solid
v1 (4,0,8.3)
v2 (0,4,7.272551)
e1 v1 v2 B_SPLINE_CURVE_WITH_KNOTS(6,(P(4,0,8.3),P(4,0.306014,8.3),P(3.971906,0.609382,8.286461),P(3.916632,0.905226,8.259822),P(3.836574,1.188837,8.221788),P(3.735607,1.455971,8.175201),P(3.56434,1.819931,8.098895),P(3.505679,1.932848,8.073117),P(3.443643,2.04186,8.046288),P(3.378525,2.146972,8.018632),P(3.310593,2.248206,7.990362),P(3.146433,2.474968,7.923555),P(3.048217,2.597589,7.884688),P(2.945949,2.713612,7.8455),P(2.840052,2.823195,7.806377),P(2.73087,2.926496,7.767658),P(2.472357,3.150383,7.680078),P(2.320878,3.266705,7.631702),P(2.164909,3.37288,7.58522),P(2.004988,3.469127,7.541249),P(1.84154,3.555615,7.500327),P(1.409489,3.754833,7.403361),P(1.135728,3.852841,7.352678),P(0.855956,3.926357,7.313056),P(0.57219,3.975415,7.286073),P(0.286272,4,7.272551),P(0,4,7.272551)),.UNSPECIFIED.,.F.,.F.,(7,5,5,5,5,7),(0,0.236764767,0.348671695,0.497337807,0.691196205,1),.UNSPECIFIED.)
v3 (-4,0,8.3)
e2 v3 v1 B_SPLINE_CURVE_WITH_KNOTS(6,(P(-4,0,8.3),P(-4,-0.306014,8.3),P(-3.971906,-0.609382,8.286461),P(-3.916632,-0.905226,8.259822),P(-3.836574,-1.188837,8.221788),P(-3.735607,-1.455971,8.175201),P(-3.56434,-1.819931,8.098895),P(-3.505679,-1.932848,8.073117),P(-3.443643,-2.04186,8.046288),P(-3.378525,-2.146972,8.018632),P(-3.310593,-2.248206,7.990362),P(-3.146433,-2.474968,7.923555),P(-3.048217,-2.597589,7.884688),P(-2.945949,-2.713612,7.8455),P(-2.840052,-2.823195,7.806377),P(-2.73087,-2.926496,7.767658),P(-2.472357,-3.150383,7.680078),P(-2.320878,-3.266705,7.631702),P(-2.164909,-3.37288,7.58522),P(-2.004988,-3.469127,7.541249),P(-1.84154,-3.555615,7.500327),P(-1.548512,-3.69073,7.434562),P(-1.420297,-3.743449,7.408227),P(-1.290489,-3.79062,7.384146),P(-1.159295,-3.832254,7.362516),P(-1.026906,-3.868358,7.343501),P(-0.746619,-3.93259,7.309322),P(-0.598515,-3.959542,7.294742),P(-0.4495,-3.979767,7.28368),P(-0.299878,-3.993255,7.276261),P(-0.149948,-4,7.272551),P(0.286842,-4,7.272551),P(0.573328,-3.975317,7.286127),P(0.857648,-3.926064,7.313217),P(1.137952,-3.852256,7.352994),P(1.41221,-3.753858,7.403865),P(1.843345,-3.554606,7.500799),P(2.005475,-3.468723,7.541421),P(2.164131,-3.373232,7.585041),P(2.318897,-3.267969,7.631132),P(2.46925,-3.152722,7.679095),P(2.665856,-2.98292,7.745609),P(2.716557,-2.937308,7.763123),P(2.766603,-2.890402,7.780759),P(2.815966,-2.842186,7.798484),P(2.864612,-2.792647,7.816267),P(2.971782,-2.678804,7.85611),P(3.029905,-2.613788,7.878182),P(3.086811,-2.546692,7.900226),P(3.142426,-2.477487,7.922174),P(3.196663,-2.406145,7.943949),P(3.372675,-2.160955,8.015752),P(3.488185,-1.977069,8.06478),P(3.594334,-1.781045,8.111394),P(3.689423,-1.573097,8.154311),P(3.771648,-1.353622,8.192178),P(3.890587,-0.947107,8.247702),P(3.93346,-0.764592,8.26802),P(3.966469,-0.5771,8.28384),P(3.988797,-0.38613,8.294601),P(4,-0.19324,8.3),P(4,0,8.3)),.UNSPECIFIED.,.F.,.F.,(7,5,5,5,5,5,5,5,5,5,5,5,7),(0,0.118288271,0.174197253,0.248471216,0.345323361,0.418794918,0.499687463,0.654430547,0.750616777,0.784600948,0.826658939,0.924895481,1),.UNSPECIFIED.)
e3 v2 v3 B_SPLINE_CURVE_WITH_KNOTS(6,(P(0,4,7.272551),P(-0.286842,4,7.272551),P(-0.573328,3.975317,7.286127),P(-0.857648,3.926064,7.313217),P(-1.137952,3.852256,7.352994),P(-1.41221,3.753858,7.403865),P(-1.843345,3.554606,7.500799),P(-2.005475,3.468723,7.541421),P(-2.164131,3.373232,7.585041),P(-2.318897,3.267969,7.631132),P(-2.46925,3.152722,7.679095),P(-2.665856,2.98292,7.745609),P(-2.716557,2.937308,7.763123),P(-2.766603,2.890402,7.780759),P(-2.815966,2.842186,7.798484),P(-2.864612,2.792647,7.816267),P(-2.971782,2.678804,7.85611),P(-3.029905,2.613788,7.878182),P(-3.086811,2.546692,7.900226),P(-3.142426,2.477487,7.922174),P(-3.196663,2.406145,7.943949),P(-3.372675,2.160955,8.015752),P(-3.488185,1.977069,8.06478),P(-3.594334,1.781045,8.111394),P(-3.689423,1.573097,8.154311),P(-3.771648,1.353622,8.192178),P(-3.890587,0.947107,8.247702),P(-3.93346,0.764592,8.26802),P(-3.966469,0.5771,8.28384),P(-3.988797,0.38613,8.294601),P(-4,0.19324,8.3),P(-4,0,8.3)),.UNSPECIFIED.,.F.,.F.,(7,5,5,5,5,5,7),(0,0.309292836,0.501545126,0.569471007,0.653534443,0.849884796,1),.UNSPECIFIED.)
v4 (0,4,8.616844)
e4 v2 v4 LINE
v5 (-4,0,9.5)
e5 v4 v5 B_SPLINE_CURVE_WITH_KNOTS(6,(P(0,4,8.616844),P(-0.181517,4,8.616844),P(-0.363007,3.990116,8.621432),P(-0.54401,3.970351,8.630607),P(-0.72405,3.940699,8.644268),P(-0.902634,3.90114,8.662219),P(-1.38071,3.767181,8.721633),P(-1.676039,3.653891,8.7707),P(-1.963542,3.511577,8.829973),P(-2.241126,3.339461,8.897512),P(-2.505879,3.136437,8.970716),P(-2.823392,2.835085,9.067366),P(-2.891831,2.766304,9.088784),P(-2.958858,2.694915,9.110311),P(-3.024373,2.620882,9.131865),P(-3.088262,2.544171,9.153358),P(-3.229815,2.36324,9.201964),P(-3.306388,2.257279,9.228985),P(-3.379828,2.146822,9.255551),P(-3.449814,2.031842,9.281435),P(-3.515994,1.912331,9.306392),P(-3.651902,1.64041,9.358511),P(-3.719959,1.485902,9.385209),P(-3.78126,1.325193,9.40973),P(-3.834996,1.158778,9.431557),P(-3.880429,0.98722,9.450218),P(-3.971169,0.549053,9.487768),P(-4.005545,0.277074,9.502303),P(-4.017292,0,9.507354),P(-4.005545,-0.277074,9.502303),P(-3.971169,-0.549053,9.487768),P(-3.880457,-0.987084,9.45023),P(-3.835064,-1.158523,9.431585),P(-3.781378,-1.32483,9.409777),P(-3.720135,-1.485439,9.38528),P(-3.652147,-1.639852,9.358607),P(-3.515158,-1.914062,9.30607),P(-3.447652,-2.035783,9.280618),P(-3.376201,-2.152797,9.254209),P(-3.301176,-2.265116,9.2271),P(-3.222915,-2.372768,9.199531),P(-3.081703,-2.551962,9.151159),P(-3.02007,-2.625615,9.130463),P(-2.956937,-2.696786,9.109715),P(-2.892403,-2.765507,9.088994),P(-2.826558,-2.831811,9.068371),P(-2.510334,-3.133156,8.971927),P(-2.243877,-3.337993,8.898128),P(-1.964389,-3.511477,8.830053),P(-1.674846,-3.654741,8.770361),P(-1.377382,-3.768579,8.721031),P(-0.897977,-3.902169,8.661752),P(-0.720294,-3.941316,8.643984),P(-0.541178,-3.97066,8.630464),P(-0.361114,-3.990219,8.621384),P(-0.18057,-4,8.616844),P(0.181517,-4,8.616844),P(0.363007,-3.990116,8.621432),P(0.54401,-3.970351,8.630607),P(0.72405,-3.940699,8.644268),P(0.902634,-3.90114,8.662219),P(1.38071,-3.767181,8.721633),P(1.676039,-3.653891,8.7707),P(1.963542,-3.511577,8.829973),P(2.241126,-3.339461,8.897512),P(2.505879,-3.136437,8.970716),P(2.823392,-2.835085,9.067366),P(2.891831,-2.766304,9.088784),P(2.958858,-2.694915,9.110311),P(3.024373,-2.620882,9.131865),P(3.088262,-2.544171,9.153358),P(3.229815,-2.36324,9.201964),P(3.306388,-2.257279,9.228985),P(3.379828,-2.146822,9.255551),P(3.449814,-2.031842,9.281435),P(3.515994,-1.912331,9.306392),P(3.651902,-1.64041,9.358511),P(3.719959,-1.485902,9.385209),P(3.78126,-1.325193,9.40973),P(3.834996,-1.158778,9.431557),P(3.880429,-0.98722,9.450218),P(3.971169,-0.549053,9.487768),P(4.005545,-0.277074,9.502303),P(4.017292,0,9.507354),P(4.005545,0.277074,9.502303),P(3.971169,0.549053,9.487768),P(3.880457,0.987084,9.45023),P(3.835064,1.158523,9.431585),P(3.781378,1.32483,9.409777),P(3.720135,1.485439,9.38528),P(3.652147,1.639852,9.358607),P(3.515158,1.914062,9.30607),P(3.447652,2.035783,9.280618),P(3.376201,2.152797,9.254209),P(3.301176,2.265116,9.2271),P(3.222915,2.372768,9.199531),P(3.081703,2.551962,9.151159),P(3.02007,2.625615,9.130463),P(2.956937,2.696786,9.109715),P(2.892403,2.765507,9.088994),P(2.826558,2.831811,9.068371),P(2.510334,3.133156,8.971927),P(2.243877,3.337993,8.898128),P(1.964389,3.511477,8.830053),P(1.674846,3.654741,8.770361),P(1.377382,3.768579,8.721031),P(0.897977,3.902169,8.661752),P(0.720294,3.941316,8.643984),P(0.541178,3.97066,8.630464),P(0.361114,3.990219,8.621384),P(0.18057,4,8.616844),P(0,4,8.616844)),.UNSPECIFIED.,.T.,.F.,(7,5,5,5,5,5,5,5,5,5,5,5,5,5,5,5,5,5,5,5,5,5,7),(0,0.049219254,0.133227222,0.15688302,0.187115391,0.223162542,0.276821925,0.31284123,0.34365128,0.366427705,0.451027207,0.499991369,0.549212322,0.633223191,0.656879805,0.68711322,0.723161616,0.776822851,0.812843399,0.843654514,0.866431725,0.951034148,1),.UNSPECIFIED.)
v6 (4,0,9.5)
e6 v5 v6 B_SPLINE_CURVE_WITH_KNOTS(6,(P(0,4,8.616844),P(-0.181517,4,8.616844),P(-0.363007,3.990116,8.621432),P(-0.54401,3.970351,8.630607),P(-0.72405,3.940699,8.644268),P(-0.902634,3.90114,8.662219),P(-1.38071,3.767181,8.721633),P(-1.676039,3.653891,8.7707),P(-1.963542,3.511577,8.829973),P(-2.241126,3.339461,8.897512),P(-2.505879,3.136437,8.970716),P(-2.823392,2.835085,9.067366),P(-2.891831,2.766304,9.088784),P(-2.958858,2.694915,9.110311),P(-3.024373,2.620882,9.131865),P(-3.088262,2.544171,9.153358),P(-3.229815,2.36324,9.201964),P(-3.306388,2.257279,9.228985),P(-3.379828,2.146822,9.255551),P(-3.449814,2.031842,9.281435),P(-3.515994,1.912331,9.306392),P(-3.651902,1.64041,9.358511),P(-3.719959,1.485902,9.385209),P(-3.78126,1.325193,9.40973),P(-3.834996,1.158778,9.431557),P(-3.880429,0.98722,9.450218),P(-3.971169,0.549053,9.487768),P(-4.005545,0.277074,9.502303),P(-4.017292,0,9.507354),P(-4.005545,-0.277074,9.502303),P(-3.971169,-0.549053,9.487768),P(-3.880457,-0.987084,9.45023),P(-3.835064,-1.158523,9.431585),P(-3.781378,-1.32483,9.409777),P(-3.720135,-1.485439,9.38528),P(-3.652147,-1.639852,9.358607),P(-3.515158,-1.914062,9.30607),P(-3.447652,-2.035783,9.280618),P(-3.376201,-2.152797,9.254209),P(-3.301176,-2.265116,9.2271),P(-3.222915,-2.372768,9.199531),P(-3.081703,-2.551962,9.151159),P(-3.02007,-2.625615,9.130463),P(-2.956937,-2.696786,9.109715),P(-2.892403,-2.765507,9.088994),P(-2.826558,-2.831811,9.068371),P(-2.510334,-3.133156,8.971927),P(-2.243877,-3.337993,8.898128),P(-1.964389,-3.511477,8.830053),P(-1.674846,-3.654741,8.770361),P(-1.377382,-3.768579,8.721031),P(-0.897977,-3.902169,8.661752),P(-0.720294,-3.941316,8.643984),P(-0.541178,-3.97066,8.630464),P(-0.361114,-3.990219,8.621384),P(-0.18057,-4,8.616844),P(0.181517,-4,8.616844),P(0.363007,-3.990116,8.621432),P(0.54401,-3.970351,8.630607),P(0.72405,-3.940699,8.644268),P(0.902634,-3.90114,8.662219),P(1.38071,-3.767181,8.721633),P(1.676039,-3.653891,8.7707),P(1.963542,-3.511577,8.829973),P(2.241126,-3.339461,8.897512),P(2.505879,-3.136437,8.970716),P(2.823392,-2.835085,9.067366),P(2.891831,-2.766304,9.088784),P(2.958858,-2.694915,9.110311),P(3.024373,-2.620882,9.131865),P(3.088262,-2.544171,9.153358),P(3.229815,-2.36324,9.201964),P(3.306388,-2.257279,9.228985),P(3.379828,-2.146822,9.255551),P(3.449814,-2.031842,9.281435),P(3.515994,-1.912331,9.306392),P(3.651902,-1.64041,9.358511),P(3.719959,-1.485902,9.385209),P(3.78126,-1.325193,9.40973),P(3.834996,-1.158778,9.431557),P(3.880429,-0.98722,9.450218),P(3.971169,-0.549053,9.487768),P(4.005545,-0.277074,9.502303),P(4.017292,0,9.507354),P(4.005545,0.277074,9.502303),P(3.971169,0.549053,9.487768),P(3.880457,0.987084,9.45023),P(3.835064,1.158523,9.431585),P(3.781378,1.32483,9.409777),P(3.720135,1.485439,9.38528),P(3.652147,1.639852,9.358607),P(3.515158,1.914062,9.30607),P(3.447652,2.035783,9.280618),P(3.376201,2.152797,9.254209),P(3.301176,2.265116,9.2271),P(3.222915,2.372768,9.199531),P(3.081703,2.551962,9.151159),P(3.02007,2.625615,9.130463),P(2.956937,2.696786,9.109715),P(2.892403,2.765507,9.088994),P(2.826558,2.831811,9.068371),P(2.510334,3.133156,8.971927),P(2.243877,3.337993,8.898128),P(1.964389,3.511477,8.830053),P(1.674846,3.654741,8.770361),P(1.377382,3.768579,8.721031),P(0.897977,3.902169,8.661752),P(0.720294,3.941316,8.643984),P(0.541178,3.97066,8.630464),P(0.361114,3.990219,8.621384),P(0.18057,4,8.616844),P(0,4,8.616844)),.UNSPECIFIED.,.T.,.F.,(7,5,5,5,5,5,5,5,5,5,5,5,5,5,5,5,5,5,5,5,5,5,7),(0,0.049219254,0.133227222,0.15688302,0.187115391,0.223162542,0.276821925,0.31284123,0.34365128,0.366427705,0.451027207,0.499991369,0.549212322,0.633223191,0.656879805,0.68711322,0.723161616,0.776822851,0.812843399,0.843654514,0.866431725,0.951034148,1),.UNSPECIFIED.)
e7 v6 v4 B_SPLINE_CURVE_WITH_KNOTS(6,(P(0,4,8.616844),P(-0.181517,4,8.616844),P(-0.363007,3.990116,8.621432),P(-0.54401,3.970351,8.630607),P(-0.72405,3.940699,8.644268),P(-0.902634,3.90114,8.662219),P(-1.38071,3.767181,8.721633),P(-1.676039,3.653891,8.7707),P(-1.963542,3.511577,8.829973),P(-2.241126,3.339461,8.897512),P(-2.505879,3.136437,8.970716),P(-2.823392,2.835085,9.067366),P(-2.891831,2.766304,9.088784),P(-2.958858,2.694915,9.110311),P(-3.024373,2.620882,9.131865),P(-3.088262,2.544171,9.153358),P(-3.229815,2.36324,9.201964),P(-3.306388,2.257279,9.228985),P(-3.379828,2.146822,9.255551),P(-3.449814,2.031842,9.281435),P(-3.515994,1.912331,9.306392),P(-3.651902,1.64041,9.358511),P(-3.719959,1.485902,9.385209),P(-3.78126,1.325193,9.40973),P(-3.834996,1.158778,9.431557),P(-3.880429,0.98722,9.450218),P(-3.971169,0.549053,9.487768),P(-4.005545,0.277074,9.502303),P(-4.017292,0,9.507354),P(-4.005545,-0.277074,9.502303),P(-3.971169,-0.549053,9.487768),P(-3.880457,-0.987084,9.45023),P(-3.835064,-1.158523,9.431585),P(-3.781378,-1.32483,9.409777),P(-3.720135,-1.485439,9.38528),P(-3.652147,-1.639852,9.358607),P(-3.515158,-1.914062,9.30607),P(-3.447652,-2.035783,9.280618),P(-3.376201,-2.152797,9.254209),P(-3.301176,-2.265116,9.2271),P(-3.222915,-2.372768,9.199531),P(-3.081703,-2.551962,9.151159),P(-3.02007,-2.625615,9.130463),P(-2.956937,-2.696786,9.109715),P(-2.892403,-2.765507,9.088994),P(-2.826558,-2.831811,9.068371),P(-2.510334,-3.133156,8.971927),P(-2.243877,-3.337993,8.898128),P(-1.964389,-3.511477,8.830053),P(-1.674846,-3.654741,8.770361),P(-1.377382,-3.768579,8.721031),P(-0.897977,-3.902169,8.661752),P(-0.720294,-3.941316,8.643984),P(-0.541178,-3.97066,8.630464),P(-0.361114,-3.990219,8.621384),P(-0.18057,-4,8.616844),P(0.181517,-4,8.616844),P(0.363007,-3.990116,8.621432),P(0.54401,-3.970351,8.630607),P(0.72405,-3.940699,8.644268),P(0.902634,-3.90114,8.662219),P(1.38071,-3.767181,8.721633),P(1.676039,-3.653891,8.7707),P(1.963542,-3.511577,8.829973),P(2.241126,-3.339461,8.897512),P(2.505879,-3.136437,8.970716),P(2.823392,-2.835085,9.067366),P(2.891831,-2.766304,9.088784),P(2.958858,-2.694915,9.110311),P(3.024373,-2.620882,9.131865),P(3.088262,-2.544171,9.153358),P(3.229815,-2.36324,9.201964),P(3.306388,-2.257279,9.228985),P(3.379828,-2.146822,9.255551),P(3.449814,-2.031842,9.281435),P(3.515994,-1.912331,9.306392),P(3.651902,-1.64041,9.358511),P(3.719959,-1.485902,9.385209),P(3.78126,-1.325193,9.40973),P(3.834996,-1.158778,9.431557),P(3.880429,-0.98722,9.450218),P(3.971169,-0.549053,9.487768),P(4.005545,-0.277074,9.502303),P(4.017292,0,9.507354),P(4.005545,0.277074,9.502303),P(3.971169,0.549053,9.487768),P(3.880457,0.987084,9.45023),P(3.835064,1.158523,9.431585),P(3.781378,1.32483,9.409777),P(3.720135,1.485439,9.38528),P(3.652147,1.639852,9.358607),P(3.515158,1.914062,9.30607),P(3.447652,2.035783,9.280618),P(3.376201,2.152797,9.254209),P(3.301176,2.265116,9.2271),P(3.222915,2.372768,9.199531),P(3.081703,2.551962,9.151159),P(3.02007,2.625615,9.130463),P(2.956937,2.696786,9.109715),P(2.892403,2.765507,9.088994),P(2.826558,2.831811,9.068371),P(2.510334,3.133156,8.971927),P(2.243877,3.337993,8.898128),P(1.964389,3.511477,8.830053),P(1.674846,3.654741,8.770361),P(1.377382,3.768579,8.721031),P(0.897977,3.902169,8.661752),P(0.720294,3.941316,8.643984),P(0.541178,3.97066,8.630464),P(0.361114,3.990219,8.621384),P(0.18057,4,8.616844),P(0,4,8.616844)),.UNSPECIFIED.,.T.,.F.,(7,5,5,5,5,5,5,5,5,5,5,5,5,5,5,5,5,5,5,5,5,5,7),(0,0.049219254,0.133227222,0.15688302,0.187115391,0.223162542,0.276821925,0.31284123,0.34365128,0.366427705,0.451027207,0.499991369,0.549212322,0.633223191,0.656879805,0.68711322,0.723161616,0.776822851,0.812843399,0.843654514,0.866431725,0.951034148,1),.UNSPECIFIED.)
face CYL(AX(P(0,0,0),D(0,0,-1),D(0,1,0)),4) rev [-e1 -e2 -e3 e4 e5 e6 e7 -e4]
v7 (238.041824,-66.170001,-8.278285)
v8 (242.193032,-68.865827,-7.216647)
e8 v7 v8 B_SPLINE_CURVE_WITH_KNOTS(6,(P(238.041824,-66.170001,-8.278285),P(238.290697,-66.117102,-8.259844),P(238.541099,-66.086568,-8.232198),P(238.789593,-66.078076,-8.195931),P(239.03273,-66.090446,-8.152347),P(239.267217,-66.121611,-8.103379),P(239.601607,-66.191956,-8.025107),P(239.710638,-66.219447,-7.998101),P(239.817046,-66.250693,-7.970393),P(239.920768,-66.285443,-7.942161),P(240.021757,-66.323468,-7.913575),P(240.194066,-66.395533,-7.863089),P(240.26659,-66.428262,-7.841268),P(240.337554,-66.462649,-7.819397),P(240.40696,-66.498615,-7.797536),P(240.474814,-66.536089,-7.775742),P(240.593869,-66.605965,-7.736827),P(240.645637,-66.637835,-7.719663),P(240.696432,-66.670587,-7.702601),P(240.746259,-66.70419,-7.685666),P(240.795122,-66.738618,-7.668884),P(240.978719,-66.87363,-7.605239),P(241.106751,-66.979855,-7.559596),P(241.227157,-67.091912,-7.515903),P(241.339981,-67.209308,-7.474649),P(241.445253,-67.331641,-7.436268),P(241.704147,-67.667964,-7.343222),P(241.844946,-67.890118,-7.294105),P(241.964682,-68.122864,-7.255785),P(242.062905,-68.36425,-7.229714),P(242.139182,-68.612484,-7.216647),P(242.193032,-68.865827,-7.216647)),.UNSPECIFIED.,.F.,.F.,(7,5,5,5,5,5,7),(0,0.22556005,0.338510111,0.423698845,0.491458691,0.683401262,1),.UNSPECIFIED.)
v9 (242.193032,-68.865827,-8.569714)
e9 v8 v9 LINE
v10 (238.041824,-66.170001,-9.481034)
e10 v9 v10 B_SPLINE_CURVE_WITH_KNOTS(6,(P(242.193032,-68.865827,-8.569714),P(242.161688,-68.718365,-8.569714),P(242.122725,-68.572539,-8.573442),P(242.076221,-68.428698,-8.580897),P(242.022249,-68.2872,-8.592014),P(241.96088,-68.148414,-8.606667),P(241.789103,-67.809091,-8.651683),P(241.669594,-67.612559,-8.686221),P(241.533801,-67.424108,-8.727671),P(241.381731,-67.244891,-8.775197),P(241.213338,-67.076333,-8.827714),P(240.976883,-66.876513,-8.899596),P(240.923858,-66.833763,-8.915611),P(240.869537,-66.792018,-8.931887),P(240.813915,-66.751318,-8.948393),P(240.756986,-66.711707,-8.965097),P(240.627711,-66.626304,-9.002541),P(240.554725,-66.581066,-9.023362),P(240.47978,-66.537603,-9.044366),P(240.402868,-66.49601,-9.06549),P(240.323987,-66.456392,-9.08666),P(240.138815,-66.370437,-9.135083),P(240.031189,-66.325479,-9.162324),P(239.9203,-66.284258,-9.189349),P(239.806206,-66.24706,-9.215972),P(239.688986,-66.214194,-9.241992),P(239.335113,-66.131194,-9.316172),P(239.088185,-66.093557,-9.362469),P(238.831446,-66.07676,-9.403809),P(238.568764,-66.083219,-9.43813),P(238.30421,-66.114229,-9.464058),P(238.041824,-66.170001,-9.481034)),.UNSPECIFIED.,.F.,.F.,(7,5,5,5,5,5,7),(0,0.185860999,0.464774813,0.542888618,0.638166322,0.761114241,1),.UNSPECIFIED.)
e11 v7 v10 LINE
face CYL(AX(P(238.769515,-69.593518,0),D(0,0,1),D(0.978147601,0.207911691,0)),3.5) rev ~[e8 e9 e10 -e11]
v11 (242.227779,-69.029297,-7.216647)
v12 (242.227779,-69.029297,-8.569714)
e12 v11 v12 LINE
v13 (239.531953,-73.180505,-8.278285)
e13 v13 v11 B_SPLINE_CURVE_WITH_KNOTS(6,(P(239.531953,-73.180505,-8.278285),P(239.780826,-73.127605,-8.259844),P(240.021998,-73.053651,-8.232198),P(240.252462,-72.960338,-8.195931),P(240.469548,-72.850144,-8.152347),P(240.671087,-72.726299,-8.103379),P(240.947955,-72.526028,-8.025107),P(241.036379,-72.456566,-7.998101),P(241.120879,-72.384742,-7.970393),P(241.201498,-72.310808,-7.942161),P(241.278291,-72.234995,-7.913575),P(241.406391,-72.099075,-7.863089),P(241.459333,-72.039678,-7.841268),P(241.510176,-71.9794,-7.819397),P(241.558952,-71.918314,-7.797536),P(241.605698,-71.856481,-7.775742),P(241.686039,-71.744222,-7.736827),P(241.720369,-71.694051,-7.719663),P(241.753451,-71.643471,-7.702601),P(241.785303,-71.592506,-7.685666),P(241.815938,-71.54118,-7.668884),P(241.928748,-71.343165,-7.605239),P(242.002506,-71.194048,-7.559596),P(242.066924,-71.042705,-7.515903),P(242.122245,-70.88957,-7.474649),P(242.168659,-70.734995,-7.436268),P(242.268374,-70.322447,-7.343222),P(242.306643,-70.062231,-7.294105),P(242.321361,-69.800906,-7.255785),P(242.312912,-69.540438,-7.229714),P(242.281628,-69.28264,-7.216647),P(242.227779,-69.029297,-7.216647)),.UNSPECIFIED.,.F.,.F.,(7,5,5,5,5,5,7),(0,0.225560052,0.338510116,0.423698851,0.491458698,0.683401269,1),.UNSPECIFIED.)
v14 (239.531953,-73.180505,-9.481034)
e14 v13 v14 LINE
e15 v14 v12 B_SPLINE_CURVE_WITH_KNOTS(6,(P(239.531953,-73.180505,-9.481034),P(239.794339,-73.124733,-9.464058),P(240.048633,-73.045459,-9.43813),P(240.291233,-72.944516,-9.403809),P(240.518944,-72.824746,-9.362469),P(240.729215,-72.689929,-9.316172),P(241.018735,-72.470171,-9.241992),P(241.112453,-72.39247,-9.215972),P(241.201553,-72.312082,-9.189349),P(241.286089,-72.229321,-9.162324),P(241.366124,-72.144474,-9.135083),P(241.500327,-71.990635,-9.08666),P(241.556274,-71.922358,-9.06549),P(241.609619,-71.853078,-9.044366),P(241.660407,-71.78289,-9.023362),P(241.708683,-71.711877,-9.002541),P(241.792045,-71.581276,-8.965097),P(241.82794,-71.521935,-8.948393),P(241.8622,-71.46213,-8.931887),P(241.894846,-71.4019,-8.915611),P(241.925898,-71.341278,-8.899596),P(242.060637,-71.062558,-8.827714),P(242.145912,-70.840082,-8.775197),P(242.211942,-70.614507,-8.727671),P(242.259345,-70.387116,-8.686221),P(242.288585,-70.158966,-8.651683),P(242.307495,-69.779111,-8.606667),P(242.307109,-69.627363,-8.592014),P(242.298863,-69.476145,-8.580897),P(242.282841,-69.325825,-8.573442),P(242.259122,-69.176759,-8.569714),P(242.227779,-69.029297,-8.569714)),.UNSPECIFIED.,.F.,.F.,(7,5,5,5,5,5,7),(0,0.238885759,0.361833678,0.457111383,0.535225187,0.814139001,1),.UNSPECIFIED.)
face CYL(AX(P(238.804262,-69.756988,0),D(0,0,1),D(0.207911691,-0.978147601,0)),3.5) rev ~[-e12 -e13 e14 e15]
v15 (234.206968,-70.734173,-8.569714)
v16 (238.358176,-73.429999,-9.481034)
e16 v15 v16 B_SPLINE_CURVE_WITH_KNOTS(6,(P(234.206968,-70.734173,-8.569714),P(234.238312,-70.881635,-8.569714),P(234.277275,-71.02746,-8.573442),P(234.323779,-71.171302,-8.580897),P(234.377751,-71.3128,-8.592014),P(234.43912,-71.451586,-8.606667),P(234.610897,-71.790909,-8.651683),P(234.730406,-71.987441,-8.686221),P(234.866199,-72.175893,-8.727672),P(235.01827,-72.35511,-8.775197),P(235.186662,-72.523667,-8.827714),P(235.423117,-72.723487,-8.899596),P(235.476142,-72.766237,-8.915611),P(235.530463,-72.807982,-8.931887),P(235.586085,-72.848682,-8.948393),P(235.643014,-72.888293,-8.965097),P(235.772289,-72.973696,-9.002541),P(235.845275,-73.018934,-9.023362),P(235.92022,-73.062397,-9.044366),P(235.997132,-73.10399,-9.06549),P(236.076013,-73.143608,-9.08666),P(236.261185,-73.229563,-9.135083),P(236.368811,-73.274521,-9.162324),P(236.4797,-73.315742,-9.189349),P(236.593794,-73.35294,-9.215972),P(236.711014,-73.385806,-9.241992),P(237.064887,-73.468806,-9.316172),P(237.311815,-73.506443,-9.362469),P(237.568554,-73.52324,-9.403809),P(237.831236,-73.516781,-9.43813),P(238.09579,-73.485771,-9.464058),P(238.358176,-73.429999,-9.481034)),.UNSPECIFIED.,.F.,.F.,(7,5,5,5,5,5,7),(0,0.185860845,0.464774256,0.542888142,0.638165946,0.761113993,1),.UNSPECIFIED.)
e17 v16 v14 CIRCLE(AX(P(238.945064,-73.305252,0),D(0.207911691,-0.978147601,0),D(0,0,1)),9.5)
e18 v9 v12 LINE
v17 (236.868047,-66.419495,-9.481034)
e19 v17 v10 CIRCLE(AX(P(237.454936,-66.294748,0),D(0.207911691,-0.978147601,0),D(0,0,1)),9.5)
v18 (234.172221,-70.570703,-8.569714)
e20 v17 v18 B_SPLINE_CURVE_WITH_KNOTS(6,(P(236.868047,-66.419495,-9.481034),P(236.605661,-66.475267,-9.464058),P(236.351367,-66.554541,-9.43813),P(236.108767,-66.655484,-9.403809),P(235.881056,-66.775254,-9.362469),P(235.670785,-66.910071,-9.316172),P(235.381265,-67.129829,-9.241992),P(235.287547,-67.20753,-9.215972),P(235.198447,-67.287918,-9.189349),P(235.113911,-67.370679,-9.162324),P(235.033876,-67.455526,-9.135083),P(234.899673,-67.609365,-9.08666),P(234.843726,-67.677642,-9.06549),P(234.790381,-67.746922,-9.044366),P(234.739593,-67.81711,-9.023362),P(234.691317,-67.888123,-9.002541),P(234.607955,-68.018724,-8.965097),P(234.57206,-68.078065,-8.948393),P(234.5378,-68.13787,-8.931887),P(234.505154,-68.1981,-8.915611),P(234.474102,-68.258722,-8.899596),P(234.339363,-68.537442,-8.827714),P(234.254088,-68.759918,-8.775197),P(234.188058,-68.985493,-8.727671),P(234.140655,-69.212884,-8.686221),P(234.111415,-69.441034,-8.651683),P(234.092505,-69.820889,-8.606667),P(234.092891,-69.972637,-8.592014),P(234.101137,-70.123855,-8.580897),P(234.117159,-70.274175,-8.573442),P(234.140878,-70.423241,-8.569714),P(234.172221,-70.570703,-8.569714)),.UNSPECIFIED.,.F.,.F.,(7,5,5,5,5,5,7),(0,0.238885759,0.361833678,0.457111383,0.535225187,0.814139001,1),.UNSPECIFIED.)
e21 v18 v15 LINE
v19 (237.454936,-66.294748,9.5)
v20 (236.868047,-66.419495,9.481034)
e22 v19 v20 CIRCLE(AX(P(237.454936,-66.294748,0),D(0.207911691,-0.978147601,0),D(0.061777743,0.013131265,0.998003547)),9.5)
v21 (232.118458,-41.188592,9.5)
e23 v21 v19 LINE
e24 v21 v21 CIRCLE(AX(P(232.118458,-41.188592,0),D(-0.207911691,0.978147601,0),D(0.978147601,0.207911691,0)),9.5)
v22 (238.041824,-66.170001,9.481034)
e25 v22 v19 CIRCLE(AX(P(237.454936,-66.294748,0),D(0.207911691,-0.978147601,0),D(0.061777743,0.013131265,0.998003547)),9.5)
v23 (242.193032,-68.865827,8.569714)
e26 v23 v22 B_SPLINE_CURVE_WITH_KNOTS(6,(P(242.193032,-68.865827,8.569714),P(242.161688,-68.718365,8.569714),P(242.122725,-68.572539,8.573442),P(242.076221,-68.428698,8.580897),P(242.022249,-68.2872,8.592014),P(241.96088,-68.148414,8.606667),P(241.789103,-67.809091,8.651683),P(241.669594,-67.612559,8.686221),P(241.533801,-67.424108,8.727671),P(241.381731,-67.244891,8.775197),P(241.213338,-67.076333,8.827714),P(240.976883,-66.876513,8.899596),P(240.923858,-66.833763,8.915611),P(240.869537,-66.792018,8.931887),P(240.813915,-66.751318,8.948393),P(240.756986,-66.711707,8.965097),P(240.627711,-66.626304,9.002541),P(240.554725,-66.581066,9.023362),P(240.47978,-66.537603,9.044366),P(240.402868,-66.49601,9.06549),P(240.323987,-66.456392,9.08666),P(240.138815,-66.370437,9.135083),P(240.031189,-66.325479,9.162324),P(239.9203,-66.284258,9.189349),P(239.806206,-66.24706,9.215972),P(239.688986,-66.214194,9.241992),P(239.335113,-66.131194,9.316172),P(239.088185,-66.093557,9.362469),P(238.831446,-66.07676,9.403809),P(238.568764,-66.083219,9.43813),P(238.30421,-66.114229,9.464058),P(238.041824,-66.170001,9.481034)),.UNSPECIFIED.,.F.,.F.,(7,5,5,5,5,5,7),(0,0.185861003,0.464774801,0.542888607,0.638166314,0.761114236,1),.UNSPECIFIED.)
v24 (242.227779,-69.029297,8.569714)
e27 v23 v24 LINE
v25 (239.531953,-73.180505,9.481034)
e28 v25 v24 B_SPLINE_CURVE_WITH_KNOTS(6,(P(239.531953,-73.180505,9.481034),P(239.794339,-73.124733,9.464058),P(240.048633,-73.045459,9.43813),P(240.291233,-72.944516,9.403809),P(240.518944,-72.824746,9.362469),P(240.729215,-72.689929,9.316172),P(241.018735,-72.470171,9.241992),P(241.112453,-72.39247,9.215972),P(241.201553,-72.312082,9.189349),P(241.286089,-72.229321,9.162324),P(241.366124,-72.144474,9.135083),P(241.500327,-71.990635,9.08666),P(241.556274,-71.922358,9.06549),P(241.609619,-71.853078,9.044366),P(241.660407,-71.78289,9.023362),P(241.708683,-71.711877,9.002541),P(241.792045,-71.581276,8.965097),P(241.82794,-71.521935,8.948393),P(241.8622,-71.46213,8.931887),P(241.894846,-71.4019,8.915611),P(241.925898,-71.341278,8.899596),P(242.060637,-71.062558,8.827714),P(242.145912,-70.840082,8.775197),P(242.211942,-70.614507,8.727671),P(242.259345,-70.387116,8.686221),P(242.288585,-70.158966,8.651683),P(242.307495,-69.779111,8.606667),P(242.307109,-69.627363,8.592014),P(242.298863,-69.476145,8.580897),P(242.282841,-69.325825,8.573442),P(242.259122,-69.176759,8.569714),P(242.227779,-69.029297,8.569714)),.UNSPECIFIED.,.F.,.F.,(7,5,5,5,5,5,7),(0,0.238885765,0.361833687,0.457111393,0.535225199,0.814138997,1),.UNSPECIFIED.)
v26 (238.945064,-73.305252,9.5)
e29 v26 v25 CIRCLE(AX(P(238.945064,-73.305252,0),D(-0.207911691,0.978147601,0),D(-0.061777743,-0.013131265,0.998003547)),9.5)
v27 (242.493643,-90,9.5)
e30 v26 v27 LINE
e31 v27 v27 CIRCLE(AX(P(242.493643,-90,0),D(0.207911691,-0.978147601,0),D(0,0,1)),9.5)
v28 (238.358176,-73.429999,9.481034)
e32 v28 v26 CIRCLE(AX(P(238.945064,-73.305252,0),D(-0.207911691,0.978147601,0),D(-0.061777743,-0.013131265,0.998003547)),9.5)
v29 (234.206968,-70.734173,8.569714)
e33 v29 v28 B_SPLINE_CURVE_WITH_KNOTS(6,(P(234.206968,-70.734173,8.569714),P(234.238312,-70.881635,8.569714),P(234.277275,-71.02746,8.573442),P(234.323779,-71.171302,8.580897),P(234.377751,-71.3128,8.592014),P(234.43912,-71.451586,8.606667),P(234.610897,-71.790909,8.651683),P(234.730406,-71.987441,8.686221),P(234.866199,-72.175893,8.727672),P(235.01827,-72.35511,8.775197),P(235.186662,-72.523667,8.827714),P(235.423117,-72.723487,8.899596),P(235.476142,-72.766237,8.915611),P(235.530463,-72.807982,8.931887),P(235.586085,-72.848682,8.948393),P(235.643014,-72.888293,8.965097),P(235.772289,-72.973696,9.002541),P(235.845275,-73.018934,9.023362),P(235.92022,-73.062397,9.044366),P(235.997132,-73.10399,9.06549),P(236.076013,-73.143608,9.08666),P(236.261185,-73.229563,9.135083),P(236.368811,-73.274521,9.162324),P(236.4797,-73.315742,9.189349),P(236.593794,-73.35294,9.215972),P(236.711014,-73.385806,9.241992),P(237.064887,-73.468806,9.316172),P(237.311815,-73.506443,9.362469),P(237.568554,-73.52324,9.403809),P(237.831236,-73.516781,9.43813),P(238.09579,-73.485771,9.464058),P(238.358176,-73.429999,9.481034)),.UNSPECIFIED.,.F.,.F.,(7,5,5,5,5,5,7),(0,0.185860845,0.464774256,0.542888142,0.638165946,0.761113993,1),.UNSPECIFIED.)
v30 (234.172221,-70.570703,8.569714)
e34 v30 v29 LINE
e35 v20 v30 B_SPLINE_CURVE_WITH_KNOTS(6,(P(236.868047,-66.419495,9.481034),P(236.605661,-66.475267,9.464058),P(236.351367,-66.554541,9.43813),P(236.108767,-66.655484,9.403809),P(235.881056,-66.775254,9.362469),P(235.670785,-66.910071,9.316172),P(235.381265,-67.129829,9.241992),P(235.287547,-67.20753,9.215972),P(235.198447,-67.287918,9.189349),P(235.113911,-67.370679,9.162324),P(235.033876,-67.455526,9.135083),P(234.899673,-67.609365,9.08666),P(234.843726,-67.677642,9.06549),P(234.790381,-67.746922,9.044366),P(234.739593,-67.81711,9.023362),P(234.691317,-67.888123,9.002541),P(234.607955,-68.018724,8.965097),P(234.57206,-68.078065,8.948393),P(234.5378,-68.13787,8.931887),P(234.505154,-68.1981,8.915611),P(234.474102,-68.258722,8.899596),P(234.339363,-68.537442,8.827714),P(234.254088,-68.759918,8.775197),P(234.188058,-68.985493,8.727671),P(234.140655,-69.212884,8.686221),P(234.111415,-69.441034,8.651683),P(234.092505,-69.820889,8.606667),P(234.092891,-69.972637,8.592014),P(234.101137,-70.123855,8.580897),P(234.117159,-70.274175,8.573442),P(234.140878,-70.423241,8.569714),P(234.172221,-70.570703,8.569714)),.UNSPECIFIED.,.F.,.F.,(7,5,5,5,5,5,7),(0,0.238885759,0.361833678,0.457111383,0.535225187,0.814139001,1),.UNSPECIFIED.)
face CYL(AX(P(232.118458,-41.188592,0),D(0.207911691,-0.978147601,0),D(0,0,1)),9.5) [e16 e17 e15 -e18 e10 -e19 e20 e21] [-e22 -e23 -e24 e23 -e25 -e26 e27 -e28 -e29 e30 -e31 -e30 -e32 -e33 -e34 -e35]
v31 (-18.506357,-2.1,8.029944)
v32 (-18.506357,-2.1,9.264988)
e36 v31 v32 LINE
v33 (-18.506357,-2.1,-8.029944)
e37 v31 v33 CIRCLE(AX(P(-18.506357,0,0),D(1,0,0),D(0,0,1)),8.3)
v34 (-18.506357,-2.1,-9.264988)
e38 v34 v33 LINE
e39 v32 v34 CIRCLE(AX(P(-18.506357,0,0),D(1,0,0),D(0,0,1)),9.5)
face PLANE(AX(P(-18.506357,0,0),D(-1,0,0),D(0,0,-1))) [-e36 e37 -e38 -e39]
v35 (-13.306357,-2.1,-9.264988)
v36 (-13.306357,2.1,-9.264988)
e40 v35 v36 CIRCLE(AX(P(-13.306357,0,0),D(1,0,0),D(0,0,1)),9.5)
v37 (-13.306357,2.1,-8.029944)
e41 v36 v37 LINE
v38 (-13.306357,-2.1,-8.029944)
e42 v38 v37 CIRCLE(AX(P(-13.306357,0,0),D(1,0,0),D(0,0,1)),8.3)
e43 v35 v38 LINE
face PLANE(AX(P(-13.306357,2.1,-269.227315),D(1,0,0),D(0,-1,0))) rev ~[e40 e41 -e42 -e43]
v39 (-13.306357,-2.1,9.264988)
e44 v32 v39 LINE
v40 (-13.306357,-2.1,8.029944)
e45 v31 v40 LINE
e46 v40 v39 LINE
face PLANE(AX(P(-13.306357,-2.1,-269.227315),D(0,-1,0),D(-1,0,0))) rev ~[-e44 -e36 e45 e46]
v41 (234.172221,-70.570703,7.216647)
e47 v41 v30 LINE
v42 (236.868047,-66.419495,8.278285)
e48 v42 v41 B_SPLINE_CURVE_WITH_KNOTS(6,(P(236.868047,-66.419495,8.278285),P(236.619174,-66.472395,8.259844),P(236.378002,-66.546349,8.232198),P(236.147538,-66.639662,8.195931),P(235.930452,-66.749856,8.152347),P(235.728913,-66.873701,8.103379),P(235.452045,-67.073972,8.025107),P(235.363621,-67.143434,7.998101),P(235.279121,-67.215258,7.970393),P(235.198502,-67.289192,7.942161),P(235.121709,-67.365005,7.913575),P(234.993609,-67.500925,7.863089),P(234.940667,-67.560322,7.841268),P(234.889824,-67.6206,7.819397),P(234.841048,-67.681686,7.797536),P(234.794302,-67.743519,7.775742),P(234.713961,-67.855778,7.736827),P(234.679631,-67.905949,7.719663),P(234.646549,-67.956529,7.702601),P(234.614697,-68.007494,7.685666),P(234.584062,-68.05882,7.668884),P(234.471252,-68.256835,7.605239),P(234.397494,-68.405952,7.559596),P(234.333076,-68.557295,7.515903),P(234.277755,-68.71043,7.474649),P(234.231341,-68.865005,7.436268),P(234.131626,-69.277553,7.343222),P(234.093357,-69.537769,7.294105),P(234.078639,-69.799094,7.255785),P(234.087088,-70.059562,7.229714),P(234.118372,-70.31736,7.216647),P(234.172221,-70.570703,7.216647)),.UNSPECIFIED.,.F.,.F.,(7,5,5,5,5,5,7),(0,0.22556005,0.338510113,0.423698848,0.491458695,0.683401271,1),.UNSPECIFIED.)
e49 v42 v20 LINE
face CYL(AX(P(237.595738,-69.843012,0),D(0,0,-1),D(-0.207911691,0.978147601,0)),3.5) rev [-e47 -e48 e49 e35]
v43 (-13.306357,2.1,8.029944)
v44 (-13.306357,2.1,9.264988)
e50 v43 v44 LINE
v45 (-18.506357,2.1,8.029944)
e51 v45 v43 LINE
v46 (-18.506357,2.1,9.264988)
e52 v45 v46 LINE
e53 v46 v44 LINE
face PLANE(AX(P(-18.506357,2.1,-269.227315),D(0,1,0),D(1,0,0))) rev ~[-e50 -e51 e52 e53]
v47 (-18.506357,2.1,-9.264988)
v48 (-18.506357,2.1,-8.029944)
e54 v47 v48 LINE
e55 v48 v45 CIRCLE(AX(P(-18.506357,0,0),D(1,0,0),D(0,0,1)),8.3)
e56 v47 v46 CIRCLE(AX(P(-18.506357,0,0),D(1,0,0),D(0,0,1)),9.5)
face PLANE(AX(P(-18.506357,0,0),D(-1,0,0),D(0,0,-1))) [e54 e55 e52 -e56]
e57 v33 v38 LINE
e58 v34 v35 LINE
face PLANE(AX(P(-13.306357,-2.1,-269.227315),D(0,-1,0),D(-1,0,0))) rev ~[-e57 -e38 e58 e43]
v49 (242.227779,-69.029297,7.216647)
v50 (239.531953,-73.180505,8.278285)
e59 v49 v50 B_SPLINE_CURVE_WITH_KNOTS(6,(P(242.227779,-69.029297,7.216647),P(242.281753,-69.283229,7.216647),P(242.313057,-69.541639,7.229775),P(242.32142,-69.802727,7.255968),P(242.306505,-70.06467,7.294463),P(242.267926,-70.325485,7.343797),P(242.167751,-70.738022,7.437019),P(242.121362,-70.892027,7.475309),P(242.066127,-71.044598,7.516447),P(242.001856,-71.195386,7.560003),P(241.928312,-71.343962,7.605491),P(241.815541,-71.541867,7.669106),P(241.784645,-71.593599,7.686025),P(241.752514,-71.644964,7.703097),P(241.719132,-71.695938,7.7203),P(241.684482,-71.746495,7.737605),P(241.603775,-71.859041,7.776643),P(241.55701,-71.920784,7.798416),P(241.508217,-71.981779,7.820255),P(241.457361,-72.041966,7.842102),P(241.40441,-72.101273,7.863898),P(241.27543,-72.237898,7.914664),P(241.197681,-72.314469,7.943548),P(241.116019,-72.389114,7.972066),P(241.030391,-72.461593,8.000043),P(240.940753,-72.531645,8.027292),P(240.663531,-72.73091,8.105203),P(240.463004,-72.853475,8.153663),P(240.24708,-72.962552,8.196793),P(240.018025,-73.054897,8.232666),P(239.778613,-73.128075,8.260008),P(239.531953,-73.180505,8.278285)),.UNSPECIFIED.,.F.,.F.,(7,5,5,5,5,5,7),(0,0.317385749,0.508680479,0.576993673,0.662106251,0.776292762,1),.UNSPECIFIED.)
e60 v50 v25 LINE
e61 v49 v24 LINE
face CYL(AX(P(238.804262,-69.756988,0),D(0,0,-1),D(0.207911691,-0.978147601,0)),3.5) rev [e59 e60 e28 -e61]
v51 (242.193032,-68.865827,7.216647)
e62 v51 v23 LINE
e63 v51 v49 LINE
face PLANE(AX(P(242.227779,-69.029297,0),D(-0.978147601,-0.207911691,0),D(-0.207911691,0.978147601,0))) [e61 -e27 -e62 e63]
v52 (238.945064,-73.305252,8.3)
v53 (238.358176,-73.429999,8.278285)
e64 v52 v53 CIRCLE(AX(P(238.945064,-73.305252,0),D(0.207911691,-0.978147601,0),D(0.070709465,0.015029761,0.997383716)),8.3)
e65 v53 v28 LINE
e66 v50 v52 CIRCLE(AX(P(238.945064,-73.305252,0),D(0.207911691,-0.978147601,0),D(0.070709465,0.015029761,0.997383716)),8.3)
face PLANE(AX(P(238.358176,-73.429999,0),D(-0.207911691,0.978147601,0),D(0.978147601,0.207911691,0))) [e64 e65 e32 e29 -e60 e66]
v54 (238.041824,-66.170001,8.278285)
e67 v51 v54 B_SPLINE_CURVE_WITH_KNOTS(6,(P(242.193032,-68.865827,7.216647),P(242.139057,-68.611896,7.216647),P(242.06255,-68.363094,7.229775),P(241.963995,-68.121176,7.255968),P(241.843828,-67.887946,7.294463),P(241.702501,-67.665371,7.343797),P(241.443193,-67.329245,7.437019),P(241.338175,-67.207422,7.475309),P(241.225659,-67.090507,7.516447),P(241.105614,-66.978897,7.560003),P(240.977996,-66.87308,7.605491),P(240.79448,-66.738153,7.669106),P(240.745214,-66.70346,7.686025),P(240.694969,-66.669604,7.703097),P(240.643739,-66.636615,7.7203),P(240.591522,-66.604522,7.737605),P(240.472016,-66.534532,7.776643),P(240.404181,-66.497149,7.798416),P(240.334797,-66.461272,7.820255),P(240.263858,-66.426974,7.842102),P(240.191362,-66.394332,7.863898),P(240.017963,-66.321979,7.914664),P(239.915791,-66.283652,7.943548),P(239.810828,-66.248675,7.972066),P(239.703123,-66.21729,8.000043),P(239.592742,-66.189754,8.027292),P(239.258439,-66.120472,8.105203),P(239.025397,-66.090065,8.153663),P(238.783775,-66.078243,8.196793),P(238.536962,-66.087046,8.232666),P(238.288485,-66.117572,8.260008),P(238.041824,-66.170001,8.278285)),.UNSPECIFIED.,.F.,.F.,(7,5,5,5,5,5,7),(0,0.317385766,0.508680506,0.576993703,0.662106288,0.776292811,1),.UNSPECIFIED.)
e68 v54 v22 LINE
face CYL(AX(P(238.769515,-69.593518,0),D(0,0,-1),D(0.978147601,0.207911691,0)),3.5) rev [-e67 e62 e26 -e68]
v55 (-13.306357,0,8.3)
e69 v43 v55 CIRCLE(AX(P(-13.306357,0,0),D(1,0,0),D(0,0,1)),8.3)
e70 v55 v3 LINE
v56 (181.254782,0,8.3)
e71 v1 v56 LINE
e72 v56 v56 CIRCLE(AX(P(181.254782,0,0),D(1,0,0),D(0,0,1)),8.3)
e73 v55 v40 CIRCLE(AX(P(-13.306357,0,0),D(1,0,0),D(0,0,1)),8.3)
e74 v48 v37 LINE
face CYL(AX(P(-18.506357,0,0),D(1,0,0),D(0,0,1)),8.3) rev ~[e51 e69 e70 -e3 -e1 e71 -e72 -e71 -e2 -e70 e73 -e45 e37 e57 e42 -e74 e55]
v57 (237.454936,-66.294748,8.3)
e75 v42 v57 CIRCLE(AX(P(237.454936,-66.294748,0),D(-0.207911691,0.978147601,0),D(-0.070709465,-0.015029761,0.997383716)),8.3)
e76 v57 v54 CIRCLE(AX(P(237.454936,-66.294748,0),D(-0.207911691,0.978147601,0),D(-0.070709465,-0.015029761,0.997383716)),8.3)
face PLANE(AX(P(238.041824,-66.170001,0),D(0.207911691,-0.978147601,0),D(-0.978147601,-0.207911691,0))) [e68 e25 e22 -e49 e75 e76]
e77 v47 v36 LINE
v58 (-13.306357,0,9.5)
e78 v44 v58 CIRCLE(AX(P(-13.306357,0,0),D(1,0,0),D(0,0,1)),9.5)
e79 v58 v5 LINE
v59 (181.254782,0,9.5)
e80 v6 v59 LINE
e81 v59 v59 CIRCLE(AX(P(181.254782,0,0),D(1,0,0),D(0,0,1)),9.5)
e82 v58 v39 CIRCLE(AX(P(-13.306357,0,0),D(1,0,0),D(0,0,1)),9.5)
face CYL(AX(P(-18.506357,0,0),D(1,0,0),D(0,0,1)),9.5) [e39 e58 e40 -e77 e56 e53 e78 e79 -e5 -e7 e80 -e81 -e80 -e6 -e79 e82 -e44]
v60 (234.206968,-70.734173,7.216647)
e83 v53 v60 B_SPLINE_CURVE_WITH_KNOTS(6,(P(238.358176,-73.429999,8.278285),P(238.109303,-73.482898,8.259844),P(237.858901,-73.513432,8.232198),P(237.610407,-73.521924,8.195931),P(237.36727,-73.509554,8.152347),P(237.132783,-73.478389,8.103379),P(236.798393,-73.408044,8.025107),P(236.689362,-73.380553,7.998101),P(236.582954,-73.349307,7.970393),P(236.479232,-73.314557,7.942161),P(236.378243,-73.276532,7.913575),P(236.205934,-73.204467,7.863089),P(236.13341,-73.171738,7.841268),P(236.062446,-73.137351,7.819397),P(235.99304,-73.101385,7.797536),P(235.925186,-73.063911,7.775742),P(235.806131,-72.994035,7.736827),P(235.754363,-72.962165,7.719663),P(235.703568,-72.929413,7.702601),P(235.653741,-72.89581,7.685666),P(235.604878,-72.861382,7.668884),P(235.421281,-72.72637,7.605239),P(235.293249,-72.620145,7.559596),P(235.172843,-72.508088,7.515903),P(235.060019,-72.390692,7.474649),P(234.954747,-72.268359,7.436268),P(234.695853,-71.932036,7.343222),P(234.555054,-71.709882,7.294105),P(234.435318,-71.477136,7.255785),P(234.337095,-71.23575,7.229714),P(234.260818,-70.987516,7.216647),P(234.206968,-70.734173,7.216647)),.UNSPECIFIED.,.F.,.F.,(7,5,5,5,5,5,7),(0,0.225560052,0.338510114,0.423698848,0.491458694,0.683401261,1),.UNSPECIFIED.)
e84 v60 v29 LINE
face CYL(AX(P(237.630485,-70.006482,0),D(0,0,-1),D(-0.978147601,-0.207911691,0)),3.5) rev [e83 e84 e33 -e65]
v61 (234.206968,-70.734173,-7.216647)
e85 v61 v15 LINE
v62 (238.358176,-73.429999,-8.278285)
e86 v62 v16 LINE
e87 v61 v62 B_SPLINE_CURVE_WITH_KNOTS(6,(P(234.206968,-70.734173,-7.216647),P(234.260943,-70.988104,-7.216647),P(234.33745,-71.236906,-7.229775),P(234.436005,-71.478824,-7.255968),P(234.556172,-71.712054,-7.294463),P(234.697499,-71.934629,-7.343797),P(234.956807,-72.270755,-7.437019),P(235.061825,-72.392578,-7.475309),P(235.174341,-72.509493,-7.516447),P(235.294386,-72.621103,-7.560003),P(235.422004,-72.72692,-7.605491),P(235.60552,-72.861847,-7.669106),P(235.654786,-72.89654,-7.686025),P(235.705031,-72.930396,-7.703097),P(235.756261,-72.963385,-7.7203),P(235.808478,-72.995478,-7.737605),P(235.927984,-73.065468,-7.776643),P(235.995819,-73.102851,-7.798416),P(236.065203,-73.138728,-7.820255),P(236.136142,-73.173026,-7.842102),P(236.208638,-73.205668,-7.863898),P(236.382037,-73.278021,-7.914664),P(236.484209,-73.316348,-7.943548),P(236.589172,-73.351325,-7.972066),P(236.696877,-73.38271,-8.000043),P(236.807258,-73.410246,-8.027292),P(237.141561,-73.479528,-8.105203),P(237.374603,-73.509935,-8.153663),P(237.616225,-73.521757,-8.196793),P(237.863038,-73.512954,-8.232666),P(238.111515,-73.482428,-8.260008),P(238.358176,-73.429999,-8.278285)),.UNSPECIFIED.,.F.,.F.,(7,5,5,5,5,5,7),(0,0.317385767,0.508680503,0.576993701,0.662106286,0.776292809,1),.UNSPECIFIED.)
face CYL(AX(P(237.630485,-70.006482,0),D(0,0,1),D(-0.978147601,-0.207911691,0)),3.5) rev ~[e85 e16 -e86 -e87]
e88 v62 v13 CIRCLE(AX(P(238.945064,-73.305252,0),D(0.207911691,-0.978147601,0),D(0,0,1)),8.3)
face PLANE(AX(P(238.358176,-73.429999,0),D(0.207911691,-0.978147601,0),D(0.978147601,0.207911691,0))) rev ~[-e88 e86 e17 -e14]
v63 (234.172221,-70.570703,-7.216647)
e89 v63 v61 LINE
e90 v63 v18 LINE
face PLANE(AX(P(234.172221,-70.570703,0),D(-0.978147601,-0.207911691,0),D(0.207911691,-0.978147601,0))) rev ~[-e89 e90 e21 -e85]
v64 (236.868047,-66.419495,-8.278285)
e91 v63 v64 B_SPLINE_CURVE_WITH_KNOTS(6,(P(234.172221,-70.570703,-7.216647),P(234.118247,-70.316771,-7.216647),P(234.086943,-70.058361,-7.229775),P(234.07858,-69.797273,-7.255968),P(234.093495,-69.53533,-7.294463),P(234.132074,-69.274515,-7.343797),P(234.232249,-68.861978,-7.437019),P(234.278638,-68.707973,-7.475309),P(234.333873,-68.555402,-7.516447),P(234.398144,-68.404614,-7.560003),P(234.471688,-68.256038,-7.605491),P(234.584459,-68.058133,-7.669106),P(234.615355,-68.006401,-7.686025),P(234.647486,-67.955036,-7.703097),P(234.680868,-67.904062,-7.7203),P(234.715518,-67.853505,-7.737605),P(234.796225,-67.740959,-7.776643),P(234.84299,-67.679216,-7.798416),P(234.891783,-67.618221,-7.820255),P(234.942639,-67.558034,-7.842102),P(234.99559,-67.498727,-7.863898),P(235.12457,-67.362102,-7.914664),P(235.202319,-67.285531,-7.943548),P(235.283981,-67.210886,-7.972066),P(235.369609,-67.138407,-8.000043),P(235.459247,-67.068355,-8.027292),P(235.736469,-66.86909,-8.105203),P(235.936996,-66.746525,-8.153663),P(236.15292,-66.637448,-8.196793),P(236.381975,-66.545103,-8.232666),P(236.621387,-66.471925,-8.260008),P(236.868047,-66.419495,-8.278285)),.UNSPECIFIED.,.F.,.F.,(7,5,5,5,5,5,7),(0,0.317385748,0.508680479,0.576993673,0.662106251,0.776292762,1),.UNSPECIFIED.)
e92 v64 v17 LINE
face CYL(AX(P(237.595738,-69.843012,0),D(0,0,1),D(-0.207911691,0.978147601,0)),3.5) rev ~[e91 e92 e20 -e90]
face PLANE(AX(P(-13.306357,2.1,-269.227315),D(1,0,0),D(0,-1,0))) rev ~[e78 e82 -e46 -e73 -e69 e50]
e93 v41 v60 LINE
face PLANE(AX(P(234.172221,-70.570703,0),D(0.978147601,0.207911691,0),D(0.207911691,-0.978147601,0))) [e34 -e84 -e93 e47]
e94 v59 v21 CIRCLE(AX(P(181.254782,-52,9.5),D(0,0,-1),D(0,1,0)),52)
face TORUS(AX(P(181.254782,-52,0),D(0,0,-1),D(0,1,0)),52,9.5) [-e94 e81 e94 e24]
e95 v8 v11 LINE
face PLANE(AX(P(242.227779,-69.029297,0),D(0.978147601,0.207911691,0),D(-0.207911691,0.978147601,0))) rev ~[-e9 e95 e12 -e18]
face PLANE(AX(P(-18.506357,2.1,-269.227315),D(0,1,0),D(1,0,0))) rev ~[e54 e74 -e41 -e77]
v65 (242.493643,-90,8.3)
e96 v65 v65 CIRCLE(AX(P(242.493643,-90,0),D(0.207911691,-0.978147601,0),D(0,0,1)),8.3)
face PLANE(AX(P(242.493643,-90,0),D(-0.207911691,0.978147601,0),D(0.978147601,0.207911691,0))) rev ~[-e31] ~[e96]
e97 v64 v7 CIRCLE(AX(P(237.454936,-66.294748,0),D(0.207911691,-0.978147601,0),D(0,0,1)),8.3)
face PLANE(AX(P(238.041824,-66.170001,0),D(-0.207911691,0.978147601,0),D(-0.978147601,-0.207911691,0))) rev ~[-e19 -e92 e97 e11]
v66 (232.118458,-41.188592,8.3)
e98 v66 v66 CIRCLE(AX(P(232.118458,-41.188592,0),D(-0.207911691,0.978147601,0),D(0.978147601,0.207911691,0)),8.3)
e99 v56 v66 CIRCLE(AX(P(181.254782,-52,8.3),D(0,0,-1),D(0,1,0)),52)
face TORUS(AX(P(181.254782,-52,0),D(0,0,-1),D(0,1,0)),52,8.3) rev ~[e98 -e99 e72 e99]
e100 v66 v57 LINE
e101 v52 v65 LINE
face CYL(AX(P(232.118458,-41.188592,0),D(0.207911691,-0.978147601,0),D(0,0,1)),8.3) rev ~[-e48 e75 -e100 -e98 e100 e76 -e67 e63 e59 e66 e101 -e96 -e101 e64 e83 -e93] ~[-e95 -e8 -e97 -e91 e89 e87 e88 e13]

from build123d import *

# Parameters (mm, degrees)
SKETCH2_R                      = 9.5
SKETCH2_R_2                    = 8.3
CUT_EXTRUDE1_REACH             = 270.227
CUT_EXTRUDE1_DIRECTION_2_REACH = 270.227
CUT_EXTRUDE2_REACH             = 270.227
CUT_EXTRUDE2_END_RADIUS        = 9.5
SKETCH4_R                      = 4
CUT_EXTRUDE3_DEPTH             = 269.227315267
CUT_EXTRUDE3_DEPTH_BACK        = 269.227315267


with BuildPart() as part:
    # Sweep1: sweep along a path in Sketch1
    with BuildLine(Plane.XY) as sweep1_path:
        Line((-18.506357454, 0), (0, 0))
        Line((0, 0), (181.254782269, 0))
        ThreePointArc((181.254782269, 0), (213.979442604, -11.588410004), (232.118457507, -41.188592077))
        Line((232.118457507, -41.188592077), (238.2, -69.8))
        Line((238.2, -69.8), (242.493642546, -90))
    # Sketch2 → Sweep1 (sweep)
    with BuildSketch(Plane.ZY.offset(18.506357454)):
        Circle(SKETCH2_R)
        Circle(SKETCH2_R_2, mode=Mode.SUBTRACT)
    sweep(path=sweep1_path.line)

    # Sketch3 → Cut-Extrude1 (cut, up to next)
    with BuildSketch(Plane.XY, mode=Mode.PRIVATE) as cut_extrude1_sk1:
        with BuildLine():
            Line((242.227778512, -69.029297246), (242.193031815, -68.865826889))
            ThreePointArc((242.193031815, -68.865826889), (240.675751834, -66.658170819), (238.041824294, -66.170001204))
            Line((238.041824294, -66.170001204), (236.868047173, -66.419495233))
            ThreePointArc((236.868047173, -66.419495233), (234.660391103, -67.936775213), (234.172221488, -70.570702754))
            Line((234.172221488, -70.570702754), (234.206968185, -70.734173111))
            ThreePointArc((234.206968185, -70.734173111), (235.724248166, -72.941829181), (238.358175706, -73.429998796))
            Line((238.358175706, -73.429998796), (239.531952827, -73.180504767))
            ThreePointArc((239.531952827, -73.180504767), (241.739608897, -71.663224787), (242.227778512, -69.029297246))
        make_face()
    cut_extrude1_tool1 = extrude(cut_extrude1_sk1.sketch, amount=-CUT_EXTRUDE1_REACH, mode=Mode.PRIVATE) & part.part
    add(cut_extrude1_tool1.solids().sort_by_distance((238.2, -69.8, 0))[0], mode=Mode.SUBTRACT)

    # Sketch3 → Cut-Extrude1 direction 2 (cut, up to next)
    with BuildSketch(Plane.XY, mode=Mode.PRIVATE) as cut_extrude1_direction_2_sk1:
        with BuildLine():
            Line((242.227778512, -69.029297246), (242.193031815, -68.865826889))
            ThreePointArc((242.193031815, -68.865826889), (240.675751834, -66.658170819), (238.041824294, -66.170001204))
            Line((238.041824294, -66.170001204), (236.868047173, -66.419495233))
            ThreePointArc((236.868047173, -66.419495233), (234.660391103, -67.936775213), (234.172221488, -70.570702754))
            Line((234.172221488, -70.570702754), (234.206968185, -70.734173111))
            ThreePointArc((234.206968185, -70.734173111), (235.724248166, -72.941829181), (238.358175706, -73.429998796))
            Line((238.358175706, -73.429998796), (239.531952827, -73.180504767))
            ThreePointArc((239.531952827, -73.180504767), (241.739608897, -71.663224787), (242.227778512, -69.029297246))
        make_face()
    cut_extrude1_direction_2_tool1 = extrude(cut_extrude1_direction_2_sk1.sketch, amount=CUT_EXTRUDE1_DIRECTION_2_REACH, mode=Mode.PRIVATE) & part.part
    add(cut_extrude1_direction_2_tool1.solids().sort_by_distance((238.2, -69.8, 0))[0], mode=Mode.SUBTRACT)

    # Cut-Extrude2: up to this cylinder (the profile starts inside it)
    cut_extrude2_end = Plane(origin=(0, 0, 0), z_dir=(-1, 0, 0)) * Cylinder(CUT_EXTRUDE2_END_RADIUS, 560.454, mode=Mode.PRIVATE)
    # Sketch4 → Cut-Extrude2 (cut, up to the surface)
    with BuildSketch(Plane.XY, mode=Mode.PRIVATE) as cut_extrude2_sk1:
        with Locations(Location((0, 0, 0), (0, 0, 90))):
            Circle(SKETCH4_R)
    cut_extrude2_tool1 = extrude(cut_extrude2_sk1.sketch, amount=CUT_EXTRUDE2_REACH, mode=Mode.PRIVATE) & cut_extrude2_end
    add(cut_extrude2_tool1.solids().sort_by_distance((0, 0, 0))[0], mode=Mode.SUBTRACT)

    # Sketch5 → Cut-Extrude3 (cut, two sides: drawn at the far end of the back side and taken through both)
    with BuildSketch(Plane.XY.offset(-CUT_EXTRUDE3_DEPTH_BACK)):
        Polygon((-18.506357454, 0), (-18.506357454, 2.1), (-13.306357454, 2.1), (-13.306357454, -2.1), (-18.506357454, -2.1), align=None)
    extrude(amount=CUT_EXTRUDE3_DEPTH + CUT_EXTRUDE3_DEPTH_BACK, mode=Mode.SUBTRACT)


solid = part.part
